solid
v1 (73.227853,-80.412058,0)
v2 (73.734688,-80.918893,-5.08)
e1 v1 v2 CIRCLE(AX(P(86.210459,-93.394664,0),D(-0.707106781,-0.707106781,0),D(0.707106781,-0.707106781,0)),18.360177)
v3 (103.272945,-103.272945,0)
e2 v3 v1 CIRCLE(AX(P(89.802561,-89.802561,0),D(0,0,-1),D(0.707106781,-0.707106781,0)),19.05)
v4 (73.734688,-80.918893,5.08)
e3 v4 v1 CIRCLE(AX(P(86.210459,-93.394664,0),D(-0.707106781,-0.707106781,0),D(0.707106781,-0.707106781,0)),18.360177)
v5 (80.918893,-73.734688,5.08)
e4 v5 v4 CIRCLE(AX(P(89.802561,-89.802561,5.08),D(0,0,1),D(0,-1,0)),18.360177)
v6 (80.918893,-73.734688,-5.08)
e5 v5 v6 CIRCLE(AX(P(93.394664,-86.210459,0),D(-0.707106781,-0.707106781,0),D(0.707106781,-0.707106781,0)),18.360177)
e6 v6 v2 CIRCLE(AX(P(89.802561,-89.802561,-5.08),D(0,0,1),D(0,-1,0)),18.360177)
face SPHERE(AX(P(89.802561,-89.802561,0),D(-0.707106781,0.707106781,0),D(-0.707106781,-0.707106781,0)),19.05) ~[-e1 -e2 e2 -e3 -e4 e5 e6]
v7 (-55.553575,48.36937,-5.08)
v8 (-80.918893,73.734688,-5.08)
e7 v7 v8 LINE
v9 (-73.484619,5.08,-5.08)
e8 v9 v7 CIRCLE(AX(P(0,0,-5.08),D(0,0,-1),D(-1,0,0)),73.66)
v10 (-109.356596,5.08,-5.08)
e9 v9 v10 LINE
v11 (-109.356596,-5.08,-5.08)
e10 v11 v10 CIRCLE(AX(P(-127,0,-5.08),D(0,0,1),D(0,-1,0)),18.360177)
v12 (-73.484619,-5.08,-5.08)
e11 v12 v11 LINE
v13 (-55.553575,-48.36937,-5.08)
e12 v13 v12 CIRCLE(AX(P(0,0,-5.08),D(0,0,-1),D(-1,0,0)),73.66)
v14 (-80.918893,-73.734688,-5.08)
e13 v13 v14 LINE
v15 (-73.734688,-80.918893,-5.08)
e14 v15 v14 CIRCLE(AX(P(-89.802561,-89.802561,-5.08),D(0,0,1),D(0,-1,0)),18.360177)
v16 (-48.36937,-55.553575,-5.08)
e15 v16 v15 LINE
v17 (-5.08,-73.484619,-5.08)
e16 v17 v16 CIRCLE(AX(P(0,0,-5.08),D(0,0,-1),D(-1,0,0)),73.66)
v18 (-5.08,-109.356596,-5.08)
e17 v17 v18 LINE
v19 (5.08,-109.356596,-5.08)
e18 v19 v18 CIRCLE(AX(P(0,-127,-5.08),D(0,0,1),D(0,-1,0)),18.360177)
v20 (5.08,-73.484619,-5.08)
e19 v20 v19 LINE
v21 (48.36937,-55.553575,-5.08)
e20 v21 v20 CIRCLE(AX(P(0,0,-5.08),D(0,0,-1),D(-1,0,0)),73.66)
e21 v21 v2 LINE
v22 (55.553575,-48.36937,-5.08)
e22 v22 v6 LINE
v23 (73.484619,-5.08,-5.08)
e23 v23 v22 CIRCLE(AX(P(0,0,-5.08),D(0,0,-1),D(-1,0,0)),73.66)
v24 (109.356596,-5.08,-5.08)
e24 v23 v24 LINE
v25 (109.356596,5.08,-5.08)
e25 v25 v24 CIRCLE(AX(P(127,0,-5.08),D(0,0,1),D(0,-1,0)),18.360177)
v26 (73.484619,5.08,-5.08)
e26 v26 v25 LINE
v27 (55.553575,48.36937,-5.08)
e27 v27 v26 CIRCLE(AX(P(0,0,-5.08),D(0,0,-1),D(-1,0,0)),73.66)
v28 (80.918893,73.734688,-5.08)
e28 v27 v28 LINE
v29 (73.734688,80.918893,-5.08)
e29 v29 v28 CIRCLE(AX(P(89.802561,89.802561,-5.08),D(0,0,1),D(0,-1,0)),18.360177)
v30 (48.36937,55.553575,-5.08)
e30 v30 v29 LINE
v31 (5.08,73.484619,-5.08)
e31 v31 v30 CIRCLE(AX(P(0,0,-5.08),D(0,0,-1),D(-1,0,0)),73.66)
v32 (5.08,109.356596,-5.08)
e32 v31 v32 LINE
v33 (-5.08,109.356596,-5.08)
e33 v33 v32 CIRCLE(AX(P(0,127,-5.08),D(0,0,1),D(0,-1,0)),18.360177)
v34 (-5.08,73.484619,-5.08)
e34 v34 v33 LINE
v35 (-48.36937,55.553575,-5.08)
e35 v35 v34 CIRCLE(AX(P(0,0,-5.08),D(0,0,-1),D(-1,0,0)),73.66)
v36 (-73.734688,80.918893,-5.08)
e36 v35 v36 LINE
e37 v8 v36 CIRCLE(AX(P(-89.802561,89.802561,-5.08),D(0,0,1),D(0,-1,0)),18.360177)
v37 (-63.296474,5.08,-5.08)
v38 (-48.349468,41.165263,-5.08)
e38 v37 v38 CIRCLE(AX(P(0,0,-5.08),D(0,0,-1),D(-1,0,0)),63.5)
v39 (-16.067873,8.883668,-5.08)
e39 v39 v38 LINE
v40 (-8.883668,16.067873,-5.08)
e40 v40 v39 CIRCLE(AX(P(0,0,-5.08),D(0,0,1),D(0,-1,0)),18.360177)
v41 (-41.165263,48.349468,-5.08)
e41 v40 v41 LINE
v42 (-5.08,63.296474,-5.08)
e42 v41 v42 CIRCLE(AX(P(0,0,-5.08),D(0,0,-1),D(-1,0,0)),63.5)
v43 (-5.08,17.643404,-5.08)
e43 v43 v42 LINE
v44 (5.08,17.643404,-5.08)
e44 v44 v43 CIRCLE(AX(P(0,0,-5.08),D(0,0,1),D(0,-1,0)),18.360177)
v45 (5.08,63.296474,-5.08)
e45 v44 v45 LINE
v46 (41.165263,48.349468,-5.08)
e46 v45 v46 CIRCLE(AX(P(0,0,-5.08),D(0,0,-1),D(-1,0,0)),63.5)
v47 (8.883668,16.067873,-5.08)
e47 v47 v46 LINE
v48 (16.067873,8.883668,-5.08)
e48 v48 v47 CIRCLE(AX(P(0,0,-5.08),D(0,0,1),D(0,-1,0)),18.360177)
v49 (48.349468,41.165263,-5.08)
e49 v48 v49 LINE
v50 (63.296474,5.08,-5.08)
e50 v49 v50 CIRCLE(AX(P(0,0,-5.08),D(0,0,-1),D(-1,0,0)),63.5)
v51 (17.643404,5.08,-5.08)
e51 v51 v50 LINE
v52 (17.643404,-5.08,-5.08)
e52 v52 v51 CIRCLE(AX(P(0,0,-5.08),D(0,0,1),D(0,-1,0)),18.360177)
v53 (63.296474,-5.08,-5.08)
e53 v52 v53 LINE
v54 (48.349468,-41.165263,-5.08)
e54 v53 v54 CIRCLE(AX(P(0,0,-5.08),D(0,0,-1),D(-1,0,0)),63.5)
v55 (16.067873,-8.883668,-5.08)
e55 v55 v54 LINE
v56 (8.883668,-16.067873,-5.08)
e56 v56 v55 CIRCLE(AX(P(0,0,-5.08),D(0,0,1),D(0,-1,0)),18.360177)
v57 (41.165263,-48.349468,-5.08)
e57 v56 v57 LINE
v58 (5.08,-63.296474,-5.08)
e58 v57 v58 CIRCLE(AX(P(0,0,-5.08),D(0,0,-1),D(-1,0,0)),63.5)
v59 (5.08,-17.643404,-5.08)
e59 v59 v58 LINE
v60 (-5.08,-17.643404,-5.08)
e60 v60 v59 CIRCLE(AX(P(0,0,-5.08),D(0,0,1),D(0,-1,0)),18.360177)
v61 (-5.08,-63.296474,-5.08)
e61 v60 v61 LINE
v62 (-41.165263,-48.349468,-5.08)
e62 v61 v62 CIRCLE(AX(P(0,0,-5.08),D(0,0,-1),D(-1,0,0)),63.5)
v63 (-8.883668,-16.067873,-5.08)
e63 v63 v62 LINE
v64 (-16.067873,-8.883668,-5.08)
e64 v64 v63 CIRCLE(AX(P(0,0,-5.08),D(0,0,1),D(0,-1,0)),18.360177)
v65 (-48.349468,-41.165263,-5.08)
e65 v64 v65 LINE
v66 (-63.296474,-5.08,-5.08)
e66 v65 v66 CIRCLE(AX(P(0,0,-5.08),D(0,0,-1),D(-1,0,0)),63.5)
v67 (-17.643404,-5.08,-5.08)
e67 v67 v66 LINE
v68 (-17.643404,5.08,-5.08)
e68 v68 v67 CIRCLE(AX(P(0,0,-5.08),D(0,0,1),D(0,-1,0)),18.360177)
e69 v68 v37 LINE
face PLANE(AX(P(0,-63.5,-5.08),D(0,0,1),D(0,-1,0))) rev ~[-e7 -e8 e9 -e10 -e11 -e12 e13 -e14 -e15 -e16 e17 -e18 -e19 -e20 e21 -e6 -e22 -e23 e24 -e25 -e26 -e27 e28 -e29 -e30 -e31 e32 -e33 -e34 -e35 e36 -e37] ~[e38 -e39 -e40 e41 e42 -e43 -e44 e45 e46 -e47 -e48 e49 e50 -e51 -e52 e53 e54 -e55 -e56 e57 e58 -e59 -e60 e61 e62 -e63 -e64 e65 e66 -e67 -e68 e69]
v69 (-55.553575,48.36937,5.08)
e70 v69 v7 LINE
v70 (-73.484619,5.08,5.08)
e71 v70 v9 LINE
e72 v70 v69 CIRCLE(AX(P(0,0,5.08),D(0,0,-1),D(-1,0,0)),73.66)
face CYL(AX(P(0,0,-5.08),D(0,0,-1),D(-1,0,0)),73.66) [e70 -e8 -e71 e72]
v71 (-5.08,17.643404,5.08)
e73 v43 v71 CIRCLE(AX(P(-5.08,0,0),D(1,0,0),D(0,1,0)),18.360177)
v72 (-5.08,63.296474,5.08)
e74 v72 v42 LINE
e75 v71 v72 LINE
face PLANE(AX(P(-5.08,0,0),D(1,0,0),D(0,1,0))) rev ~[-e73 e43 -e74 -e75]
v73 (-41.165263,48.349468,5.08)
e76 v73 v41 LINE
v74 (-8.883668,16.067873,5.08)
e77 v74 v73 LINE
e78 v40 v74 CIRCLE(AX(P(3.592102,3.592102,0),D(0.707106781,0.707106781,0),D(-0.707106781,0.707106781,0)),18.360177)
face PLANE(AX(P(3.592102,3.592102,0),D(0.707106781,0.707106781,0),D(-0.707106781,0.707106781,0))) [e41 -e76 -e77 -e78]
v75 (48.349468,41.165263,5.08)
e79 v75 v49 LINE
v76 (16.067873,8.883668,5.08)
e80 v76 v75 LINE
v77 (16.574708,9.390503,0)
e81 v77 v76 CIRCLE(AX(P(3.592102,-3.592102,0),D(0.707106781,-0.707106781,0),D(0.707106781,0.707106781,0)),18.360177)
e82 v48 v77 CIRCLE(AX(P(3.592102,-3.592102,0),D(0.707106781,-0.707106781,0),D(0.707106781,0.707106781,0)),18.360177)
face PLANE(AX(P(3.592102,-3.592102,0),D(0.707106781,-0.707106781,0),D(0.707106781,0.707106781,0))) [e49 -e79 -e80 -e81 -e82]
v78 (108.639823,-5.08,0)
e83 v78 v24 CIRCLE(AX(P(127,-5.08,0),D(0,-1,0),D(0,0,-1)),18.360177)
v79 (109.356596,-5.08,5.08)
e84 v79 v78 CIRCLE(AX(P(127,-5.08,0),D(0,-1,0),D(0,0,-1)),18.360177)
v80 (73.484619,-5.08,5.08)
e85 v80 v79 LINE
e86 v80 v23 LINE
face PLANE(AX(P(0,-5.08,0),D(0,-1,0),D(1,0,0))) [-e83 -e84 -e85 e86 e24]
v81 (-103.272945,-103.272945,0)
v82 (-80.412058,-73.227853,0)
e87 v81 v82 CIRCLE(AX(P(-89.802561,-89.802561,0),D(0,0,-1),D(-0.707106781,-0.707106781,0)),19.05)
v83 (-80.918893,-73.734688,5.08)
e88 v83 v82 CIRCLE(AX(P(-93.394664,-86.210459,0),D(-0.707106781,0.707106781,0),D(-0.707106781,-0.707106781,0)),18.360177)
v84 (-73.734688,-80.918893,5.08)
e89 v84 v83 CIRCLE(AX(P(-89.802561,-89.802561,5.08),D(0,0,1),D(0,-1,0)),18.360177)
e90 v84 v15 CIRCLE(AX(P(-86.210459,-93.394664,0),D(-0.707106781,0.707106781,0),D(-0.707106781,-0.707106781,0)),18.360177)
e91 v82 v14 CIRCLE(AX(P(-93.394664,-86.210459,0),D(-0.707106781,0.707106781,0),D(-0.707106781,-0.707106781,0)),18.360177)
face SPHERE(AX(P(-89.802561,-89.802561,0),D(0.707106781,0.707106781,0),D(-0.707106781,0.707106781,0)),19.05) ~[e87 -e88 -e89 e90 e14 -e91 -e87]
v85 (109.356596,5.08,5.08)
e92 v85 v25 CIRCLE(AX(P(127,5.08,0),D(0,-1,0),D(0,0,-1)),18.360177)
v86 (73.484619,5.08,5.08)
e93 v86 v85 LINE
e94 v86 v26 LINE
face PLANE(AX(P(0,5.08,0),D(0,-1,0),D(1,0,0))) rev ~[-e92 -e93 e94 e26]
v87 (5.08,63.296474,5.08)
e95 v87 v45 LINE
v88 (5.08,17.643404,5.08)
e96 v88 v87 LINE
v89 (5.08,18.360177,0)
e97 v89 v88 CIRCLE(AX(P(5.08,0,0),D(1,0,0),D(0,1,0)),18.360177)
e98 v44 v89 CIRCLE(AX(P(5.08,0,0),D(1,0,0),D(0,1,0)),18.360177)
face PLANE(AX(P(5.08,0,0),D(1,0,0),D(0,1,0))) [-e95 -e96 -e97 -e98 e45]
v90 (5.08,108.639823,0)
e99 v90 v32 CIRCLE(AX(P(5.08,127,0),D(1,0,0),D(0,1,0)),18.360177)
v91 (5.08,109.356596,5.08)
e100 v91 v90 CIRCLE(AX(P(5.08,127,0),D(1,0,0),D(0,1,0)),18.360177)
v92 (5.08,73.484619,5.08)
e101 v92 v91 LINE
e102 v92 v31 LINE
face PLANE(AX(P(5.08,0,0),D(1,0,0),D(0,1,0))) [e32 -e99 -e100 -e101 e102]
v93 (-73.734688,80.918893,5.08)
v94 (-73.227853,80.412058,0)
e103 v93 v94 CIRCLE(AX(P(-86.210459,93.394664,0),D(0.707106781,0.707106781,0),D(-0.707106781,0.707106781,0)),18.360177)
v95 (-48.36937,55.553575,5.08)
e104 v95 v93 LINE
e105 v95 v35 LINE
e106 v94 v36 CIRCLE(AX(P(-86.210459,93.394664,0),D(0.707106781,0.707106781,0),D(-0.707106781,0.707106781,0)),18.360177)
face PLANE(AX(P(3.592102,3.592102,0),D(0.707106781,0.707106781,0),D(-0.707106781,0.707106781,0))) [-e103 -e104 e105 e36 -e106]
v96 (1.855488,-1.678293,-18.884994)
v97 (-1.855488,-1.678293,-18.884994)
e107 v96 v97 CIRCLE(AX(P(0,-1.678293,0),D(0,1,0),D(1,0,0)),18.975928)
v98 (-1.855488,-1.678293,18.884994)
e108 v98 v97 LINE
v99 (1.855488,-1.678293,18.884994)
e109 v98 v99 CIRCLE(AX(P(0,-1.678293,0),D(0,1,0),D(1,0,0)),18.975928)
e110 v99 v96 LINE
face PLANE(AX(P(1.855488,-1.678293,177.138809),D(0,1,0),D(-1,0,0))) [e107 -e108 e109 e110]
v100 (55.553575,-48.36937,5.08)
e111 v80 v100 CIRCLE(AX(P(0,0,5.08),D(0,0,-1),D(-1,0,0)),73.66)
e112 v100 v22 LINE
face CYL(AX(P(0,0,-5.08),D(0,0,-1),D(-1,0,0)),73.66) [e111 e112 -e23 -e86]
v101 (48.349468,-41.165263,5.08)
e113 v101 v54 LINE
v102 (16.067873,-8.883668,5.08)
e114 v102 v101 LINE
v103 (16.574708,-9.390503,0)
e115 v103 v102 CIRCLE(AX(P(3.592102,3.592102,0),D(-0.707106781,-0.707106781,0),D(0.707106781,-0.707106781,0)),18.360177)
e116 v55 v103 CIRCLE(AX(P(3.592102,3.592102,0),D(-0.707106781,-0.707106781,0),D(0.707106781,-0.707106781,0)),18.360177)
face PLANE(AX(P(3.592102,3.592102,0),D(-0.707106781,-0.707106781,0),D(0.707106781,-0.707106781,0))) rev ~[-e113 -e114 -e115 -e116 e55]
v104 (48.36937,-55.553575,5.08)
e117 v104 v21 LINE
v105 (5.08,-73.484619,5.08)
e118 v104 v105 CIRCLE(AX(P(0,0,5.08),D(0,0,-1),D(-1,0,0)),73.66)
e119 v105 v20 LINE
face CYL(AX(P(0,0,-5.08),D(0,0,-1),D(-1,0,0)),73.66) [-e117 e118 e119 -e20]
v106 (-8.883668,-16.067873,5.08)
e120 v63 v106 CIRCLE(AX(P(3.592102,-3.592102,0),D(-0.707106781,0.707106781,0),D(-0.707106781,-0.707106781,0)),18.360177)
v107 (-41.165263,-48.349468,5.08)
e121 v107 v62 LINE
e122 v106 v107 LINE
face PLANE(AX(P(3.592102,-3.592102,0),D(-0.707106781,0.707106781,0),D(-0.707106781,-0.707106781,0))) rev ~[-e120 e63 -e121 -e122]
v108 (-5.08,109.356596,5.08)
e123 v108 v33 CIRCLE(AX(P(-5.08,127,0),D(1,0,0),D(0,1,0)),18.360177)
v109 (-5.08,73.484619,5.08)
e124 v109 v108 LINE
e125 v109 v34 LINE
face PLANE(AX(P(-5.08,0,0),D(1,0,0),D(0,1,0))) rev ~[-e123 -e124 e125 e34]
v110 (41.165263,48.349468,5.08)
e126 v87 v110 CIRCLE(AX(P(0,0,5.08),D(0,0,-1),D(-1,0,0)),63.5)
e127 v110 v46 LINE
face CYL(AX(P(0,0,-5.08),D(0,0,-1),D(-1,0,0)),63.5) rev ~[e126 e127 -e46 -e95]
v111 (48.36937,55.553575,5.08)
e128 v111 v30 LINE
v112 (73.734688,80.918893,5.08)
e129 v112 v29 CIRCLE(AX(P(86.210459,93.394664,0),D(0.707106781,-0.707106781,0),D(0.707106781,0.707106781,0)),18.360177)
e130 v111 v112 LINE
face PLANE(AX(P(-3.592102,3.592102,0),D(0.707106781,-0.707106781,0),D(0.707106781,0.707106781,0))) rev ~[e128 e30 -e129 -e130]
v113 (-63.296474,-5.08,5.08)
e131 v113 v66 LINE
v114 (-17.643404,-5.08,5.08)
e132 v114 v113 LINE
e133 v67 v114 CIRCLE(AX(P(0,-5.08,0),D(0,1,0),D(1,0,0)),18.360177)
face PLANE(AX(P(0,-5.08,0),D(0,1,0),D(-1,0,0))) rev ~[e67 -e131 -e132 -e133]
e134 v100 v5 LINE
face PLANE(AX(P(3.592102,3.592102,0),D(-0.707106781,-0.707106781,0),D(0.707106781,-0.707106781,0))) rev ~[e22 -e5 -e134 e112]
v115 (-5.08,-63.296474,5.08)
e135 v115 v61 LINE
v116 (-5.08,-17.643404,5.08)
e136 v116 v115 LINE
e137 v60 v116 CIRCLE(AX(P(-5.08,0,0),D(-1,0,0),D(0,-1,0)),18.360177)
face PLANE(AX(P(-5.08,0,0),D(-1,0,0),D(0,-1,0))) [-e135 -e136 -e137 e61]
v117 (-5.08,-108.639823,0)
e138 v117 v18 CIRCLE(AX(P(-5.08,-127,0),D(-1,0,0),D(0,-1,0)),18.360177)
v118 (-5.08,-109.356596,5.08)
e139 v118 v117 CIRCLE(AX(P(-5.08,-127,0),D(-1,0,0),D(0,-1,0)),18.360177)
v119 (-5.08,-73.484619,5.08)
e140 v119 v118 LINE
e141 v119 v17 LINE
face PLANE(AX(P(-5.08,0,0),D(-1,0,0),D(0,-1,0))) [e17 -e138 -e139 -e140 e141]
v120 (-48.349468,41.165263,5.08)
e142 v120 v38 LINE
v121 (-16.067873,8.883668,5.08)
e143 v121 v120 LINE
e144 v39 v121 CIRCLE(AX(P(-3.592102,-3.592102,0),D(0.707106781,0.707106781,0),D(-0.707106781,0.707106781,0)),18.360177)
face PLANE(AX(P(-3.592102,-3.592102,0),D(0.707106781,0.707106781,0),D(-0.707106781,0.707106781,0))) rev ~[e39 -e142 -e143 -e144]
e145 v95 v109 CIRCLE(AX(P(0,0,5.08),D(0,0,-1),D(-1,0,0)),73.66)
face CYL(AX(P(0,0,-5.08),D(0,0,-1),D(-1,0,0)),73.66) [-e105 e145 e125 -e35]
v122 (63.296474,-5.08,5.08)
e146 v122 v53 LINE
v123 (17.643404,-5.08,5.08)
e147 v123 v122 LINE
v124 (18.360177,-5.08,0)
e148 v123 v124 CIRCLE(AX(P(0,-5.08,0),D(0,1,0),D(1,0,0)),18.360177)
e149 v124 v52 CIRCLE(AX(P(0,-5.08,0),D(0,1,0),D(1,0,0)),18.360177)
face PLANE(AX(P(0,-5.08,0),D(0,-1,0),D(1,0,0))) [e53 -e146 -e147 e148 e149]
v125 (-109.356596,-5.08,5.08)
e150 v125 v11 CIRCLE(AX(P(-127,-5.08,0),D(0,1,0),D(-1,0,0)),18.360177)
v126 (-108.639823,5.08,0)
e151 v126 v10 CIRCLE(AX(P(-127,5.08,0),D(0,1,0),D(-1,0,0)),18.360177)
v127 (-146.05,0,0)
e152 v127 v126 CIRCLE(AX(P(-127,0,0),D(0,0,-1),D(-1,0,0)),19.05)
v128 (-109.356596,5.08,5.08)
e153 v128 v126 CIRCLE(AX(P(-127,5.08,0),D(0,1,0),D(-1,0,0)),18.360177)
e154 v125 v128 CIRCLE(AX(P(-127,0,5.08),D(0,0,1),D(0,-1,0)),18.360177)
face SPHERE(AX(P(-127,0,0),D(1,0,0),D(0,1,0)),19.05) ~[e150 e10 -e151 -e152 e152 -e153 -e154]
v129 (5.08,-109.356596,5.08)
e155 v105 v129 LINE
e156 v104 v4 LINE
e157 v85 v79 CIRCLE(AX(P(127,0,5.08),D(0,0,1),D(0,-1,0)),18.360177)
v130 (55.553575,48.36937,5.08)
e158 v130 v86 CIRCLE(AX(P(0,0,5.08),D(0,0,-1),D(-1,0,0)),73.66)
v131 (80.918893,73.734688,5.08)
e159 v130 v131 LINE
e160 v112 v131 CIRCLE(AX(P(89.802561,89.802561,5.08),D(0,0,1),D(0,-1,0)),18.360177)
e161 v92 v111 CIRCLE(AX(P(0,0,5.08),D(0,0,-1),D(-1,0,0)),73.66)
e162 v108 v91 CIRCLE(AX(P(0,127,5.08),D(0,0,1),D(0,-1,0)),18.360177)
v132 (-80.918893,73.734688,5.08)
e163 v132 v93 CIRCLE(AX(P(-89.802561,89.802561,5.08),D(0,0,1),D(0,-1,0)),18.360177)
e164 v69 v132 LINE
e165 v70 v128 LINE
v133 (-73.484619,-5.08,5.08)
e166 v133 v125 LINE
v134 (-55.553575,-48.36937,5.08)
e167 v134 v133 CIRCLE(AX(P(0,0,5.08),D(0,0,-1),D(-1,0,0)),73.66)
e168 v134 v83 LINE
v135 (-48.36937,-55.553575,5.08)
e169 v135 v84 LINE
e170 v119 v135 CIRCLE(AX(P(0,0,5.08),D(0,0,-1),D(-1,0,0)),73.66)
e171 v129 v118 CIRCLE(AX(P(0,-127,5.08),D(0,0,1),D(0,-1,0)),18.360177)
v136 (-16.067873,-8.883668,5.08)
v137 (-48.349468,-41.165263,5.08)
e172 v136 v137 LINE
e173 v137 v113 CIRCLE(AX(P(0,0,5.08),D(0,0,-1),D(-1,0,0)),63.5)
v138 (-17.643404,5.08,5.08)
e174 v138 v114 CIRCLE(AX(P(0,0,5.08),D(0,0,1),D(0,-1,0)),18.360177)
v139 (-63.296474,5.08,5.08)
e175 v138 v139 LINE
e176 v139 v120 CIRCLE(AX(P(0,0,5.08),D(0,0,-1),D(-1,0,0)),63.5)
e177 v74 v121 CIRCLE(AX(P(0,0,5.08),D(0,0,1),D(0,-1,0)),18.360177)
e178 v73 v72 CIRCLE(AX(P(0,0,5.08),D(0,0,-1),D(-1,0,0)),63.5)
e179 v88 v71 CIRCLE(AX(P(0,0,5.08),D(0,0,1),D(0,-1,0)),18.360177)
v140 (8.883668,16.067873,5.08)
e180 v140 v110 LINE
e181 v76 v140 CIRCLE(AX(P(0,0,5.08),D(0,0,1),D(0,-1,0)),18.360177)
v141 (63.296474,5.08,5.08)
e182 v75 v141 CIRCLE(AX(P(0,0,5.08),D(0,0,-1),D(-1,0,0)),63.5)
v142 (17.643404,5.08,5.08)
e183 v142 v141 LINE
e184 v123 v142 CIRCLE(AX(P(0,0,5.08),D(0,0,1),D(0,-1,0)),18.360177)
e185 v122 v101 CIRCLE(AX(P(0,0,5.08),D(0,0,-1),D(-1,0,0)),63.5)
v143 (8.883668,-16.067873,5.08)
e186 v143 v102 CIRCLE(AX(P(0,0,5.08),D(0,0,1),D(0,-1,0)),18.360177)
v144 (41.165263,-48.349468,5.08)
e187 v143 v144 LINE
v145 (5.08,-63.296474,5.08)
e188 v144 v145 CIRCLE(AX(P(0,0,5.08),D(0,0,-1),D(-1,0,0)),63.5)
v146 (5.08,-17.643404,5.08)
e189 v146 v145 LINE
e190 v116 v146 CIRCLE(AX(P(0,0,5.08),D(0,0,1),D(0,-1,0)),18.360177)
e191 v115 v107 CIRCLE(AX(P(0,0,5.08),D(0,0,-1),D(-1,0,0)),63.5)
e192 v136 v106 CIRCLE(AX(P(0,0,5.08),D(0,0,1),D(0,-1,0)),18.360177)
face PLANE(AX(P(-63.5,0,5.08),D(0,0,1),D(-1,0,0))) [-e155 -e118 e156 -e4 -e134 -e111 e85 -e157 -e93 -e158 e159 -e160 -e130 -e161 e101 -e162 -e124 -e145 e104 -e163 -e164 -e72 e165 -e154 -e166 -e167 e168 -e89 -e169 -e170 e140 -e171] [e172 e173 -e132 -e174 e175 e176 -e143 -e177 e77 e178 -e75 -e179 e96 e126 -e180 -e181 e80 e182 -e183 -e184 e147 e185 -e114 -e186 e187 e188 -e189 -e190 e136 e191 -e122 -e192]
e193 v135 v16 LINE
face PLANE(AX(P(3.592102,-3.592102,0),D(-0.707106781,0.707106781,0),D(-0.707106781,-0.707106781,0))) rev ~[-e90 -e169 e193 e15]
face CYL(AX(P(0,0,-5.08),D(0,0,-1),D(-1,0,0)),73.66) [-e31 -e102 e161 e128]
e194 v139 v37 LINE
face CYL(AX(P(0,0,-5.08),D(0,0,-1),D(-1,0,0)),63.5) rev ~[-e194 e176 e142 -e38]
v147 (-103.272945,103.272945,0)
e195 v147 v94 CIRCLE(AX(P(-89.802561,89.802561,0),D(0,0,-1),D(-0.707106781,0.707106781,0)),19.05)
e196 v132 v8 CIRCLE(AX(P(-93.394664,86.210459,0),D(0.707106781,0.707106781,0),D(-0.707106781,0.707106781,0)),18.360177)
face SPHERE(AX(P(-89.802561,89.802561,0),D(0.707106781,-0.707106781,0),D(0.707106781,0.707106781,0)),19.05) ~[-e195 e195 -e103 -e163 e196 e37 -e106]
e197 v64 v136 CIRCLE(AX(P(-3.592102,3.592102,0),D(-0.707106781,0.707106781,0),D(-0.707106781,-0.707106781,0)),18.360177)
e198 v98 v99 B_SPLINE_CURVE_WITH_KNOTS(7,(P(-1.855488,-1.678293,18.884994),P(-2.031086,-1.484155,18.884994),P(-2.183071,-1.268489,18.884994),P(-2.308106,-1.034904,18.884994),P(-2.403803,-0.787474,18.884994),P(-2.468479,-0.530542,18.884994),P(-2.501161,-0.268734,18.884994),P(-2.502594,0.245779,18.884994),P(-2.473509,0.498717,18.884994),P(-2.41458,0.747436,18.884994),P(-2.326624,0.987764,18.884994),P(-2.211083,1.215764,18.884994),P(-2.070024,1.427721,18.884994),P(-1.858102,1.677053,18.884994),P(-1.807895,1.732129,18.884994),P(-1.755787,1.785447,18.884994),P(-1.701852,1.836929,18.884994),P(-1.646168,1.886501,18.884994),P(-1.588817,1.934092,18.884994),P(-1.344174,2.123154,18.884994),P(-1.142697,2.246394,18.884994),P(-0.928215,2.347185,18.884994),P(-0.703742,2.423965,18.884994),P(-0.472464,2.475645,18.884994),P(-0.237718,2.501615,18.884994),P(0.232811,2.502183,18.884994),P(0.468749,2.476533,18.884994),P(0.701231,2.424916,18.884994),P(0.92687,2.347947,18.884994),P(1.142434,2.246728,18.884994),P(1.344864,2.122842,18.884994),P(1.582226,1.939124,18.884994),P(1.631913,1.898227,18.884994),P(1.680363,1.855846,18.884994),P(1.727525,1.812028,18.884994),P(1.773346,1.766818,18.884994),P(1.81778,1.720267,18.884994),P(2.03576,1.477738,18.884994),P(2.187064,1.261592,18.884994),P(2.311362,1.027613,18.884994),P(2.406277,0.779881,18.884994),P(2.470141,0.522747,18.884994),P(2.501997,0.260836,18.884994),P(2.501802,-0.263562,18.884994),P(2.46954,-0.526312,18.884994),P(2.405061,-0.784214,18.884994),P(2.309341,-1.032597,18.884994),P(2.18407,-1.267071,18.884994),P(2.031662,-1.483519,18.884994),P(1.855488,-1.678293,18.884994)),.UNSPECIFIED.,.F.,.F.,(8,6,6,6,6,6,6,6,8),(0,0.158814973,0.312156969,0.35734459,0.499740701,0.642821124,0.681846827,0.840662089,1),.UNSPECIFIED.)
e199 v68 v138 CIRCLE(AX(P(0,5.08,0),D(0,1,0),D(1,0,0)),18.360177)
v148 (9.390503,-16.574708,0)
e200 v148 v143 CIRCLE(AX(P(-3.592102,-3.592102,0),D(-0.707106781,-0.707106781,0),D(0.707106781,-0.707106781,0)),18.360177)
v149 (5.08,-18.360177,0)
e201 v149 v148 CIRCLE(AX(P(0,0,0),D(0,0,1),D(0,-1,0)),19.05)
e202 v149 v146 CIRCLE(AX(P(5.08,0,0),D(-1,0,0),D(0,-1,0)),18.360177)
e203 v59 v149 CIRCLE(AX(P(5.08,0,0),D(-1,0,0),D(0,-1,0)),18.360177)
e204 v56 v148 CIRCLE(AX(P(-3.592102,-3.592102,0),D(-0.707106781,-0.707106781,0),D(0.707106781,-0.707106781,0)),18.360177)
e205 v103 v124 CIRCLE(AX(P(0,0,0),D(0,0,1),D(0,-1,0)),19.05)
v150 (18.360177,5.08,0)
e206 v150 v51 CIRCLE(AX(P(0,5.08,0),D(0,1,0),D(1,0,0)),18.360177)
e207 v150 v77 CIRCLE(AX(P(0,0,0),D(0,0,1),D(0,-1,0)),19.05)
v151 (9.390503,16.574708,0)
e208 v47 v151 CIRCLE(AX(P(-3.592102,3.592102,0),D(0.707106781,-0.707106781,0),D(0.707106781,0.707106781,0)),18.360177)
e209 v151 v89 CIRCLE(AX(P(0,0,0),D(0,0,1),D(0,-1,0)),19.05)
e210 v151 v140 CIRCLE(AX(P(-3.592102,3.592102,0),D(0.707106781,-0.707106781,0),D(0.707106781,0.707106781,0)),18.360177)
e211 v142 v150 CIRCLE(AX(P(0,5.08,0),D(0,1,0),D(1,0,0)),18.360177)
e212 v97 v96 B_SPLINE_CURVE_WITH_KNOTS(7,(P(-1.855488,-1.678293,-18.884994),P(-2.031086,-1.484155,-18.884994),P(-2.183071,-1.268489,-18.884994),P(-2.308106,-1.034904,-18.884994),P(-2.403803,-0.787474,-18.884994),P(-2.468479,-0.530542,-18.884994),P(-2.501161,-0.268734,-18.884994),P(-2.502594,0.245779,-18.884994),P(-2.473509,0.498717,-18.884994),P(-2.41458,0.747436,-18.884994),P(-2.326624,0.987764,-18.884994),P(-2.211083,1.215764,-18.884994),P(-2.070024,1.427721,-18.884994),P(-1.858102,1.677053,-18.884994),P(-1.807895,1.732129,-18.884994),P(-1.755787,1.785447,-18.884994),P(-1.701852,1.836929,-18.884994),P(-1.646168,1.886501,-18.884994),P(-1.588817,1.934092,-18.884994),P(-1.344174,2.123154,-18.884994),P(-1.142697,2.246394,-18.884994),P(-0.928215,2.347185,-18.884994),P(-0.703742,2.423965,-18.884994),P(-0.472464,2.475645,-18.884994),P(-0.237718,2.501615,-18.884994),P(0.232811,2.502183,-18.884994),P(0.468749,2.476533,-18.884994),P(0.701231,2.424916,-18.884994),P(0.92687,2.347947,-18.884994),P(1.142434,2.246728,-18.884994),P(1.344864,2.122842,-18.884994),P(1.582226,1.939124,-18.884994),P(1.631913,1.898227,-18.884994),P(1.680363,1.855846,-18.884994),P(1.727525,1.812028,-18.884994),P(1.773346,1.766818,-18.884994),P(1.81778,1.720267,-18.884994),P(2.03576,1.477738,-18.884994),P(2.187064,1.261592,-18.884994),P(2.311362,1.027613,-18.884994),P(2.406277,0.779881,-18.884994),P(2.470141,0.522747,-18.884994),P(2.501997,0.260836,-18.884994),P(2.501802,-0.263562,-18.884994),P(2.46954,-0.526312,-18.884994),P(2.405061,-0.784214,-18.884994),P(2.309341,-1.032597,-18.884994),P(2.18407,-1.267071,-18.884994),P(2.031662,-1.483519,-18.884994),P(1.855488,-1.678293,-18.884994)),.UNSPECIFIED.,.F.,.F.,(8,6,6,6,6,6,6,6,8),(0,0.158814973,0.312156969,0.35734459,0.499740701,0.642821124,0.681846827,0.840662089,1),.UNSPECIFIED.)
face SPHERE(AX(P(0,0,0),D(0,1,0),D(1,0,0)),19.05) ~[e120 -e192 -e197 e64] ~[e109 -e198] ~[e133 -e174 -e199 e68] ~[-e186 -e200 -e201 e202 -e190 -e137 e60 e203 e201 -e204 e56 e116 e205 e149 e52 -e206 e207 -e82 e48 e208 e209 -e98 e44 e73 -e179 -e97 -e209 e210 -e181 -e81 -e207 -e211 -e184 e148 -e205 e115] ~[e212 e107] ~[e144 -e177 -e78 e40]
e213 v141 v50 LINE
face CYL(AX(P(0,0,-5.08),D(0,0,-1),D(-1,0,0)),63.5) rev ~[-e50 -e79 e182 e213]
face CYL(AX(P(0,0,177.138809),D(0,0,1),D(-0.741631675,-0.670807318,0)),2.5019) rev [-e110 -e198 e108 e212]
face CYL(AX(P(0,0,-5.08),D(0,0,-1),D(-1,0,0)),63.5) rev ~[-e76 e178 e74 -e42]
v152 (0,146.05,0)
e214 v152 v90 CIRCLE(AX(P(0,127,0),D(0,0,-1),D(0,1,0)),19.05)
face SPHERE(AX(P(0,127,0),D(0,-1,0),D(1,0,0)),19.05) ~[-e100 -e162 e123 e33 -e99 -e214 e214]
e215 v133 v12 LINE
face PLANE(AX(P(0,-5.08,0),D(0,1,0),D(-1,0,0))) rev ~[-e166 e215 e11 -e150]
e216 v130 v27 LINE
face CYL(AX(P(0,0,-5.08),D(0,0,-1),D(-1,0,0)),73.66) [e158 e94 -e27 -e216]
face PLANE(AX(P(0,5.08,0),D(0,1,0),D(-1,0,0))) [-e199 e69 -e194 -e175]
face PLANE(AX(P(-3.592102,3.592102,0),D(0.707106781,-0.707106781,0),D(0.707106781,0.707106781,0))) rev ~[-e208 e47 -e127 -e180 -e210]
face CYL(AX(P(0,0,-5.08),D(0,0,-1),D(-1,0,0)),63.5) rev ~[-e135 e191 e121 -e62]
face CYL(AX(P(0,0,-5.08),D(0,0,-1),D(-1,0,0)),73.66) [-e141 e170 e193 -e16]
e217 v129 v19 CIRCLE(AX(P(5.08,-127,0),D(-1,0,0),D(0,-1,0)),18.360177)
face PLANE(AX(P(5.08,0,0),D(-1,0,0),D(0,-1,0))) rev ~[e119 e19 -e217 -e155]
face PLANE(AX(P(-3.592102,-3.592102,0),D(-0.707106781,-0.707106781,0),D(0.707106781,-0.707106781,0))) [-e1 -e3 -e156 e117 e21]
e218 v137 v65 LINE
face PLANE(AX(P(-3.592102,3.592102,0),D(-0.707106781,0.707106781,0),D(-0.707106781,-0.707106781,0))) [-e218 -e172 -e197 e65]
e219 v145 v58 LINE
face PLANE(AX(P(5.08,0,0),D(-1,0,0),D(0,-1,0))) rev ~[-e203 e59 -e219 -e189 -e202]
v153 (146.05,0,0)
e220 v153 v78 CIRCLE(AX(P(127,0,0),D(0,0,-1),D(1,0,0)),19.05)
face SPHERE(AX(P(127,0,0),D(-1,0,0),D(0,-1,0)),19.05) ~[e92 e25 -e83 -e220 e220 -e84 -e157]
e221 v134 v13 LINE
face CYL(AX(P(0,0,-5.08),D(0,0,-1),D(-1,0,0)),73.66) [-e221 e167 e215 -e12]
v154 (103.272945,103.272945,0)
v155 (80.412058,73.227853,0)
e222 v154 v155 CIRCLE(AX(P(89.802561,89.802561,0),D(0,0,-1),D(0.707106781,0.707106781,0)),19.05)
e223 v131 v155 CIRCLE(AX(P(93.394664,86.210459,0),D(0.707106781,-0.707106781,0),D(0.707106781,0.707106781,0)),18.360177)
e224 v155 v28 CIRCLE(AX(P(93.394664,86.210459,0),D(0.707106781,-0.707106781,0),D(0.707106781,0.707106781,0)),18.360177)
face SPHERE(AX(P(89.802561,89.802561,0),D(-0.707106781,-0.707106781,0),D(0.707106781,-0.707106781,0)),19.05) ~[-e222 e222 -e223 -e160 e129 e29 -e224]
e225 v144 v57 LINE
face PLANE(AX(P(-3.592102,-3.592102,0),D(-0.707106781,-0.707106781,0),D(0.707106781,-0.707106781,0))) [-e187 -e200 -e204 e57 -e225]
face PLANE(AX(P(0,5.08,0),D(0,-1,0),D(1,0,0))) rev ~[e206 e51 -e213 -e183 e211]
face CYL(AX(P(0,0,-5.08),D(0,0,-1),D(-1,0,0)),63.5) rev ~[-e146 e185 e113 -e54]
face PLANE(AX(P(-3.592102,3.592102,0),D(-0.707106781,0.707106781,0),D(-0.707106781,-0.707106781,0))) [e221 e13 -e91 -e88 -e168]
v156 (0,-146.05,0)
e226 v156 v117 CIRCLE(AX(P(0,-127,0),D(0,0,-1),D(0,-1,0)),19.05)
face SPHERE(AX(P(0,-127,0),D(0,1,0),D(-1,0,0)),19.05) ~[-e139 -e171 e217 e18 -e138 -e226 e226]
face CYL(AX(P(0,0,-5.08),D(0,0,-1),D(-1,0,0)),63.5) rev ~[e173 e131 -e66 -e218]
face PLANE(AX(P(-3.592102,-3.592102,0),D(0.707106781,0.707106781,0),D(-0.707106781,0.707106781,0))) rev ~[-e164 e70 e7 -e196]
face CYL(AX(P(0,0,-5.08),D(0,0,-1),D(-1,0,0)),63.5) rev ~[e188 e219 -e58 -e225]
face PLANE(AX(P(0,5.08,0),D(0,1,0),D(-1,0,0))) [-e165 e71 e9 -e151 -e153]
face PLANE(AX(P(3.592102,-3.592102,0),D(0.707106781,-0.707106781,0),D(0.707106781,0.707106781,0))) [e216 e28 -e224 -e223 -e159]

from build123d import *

# Parameters (mm, degrees)
SKETCH2_W               = 127
SKETCH2_H               = 10.16
BOSS_EXTRUDE1_DEPTH     = 5.08
CIRPATTERN1_COUNT       = 8
SKETCH5_R               = 73.66
SKETCH5_R_2             = 63.5
BOSS_EXTRUDE2_DEPTH     = 10.16
CUT_EXTRUDE1_DEPTH      = 182.218809454
CUT_EXTRUDE1_DEPTH_BACK = 182.218809454
CIRPATTERN2_COUNT       = 8


with BuildPart() as part:
    # Sketch1 → Revolve1 (revolve)
    with BuildSketch(Plane.XY):
        with BuildLine():
            Line((0, 19.05), (0, -19.05))
            ThreePointArc((0, -19.05), (19.05, 0), (0, 19.05))
        make_face()
    revolve(axis=Axis((0, 19.05, 0), (0, -1, 0)))

    # Sketch2 → Boss-Extrude1 (add, symmetric)
    with BuildSketch(Plane.XY):
        with Locations((63.5, 0)):
            Rectangle(SKETCH2_W, SKETCH2_H)
    boss_extrude1 = extrude(amount=BOSS_EXTRUDE1_DEPTH, both=True)

    # CirPattern1: Boss-Extrude1 ×8 about axis
    cirpattern1_axis = Axis((0, 0, 0), (0, 0, -1))
    for i in range(1, CIRPATTERN1_COUNT):
        add(boss_extrude1.rotate(cirpattern1_axis, i * 360 / CIRPATTERN1_COUNT))

    # Sketch5 → Boss-Extrude2 (add)
    with BuildSketch(Plane(origin=(0, 0, -5.08), x_dir=(-1, 0, 0), z_dir=(0, 0, -1))):
        Circle(SKETCH5_R)
        Circle(SKETCH5_R_2, mode=Mode.SUBTRACT)
    extrude(amount=-BOSS_EXTRUDE2_DEPTH)

    # Sketch6 → Cut-Extrude1 (cut, two sides: drawn at the far end of the back side and taken through both)
    with BuildSketch(Plane(origin=(0, 0, -5.08), x_dir=(-1, 0, 0), z_dir=(0, 0, -1)).offset(-CUT_EXTRUDE1_DEPTH_BACK)):
        with BuildLine():
            Line((-1.855488288, -1.67829283), (1.855488288, -1.67829283))
            ThreePointArc((1.855488288, -1.67829283), (0, 2.5019), (-1.855488288, -1.67829283))
        make_face()
    extrude(amount=CUT_EXTRUDE1_DEPTH + CUT_EXTRUDE1_DEPTH_BACK, mode=Mode.SUBTRACT)

    # Sketch7 → Revolve2 (revolve)
    with BuildSketch(Plane.XY):
        with BuildLine():
            Line((0, 107.95), (0, 146.05))
            ThreePointArc((0, 146.05), (19.05, 127), (0, 107.95))
        make_face()
    revolve2 = revolve(axis=Axis((0, 107.95, 0), (0, 1, 0)))

    # CirPattern2: Revolve2 ×8 about axis
    cirpattern2_axis = Axis((0, 0, 0), (0, 0, -1))
    for i in range(1, CIRPATTERN2_COUNT):
        add(revolve2.rotate(cirpattern2_axis, i * 360 / CIRPATTERN2_COUNT))


solid = part.part
